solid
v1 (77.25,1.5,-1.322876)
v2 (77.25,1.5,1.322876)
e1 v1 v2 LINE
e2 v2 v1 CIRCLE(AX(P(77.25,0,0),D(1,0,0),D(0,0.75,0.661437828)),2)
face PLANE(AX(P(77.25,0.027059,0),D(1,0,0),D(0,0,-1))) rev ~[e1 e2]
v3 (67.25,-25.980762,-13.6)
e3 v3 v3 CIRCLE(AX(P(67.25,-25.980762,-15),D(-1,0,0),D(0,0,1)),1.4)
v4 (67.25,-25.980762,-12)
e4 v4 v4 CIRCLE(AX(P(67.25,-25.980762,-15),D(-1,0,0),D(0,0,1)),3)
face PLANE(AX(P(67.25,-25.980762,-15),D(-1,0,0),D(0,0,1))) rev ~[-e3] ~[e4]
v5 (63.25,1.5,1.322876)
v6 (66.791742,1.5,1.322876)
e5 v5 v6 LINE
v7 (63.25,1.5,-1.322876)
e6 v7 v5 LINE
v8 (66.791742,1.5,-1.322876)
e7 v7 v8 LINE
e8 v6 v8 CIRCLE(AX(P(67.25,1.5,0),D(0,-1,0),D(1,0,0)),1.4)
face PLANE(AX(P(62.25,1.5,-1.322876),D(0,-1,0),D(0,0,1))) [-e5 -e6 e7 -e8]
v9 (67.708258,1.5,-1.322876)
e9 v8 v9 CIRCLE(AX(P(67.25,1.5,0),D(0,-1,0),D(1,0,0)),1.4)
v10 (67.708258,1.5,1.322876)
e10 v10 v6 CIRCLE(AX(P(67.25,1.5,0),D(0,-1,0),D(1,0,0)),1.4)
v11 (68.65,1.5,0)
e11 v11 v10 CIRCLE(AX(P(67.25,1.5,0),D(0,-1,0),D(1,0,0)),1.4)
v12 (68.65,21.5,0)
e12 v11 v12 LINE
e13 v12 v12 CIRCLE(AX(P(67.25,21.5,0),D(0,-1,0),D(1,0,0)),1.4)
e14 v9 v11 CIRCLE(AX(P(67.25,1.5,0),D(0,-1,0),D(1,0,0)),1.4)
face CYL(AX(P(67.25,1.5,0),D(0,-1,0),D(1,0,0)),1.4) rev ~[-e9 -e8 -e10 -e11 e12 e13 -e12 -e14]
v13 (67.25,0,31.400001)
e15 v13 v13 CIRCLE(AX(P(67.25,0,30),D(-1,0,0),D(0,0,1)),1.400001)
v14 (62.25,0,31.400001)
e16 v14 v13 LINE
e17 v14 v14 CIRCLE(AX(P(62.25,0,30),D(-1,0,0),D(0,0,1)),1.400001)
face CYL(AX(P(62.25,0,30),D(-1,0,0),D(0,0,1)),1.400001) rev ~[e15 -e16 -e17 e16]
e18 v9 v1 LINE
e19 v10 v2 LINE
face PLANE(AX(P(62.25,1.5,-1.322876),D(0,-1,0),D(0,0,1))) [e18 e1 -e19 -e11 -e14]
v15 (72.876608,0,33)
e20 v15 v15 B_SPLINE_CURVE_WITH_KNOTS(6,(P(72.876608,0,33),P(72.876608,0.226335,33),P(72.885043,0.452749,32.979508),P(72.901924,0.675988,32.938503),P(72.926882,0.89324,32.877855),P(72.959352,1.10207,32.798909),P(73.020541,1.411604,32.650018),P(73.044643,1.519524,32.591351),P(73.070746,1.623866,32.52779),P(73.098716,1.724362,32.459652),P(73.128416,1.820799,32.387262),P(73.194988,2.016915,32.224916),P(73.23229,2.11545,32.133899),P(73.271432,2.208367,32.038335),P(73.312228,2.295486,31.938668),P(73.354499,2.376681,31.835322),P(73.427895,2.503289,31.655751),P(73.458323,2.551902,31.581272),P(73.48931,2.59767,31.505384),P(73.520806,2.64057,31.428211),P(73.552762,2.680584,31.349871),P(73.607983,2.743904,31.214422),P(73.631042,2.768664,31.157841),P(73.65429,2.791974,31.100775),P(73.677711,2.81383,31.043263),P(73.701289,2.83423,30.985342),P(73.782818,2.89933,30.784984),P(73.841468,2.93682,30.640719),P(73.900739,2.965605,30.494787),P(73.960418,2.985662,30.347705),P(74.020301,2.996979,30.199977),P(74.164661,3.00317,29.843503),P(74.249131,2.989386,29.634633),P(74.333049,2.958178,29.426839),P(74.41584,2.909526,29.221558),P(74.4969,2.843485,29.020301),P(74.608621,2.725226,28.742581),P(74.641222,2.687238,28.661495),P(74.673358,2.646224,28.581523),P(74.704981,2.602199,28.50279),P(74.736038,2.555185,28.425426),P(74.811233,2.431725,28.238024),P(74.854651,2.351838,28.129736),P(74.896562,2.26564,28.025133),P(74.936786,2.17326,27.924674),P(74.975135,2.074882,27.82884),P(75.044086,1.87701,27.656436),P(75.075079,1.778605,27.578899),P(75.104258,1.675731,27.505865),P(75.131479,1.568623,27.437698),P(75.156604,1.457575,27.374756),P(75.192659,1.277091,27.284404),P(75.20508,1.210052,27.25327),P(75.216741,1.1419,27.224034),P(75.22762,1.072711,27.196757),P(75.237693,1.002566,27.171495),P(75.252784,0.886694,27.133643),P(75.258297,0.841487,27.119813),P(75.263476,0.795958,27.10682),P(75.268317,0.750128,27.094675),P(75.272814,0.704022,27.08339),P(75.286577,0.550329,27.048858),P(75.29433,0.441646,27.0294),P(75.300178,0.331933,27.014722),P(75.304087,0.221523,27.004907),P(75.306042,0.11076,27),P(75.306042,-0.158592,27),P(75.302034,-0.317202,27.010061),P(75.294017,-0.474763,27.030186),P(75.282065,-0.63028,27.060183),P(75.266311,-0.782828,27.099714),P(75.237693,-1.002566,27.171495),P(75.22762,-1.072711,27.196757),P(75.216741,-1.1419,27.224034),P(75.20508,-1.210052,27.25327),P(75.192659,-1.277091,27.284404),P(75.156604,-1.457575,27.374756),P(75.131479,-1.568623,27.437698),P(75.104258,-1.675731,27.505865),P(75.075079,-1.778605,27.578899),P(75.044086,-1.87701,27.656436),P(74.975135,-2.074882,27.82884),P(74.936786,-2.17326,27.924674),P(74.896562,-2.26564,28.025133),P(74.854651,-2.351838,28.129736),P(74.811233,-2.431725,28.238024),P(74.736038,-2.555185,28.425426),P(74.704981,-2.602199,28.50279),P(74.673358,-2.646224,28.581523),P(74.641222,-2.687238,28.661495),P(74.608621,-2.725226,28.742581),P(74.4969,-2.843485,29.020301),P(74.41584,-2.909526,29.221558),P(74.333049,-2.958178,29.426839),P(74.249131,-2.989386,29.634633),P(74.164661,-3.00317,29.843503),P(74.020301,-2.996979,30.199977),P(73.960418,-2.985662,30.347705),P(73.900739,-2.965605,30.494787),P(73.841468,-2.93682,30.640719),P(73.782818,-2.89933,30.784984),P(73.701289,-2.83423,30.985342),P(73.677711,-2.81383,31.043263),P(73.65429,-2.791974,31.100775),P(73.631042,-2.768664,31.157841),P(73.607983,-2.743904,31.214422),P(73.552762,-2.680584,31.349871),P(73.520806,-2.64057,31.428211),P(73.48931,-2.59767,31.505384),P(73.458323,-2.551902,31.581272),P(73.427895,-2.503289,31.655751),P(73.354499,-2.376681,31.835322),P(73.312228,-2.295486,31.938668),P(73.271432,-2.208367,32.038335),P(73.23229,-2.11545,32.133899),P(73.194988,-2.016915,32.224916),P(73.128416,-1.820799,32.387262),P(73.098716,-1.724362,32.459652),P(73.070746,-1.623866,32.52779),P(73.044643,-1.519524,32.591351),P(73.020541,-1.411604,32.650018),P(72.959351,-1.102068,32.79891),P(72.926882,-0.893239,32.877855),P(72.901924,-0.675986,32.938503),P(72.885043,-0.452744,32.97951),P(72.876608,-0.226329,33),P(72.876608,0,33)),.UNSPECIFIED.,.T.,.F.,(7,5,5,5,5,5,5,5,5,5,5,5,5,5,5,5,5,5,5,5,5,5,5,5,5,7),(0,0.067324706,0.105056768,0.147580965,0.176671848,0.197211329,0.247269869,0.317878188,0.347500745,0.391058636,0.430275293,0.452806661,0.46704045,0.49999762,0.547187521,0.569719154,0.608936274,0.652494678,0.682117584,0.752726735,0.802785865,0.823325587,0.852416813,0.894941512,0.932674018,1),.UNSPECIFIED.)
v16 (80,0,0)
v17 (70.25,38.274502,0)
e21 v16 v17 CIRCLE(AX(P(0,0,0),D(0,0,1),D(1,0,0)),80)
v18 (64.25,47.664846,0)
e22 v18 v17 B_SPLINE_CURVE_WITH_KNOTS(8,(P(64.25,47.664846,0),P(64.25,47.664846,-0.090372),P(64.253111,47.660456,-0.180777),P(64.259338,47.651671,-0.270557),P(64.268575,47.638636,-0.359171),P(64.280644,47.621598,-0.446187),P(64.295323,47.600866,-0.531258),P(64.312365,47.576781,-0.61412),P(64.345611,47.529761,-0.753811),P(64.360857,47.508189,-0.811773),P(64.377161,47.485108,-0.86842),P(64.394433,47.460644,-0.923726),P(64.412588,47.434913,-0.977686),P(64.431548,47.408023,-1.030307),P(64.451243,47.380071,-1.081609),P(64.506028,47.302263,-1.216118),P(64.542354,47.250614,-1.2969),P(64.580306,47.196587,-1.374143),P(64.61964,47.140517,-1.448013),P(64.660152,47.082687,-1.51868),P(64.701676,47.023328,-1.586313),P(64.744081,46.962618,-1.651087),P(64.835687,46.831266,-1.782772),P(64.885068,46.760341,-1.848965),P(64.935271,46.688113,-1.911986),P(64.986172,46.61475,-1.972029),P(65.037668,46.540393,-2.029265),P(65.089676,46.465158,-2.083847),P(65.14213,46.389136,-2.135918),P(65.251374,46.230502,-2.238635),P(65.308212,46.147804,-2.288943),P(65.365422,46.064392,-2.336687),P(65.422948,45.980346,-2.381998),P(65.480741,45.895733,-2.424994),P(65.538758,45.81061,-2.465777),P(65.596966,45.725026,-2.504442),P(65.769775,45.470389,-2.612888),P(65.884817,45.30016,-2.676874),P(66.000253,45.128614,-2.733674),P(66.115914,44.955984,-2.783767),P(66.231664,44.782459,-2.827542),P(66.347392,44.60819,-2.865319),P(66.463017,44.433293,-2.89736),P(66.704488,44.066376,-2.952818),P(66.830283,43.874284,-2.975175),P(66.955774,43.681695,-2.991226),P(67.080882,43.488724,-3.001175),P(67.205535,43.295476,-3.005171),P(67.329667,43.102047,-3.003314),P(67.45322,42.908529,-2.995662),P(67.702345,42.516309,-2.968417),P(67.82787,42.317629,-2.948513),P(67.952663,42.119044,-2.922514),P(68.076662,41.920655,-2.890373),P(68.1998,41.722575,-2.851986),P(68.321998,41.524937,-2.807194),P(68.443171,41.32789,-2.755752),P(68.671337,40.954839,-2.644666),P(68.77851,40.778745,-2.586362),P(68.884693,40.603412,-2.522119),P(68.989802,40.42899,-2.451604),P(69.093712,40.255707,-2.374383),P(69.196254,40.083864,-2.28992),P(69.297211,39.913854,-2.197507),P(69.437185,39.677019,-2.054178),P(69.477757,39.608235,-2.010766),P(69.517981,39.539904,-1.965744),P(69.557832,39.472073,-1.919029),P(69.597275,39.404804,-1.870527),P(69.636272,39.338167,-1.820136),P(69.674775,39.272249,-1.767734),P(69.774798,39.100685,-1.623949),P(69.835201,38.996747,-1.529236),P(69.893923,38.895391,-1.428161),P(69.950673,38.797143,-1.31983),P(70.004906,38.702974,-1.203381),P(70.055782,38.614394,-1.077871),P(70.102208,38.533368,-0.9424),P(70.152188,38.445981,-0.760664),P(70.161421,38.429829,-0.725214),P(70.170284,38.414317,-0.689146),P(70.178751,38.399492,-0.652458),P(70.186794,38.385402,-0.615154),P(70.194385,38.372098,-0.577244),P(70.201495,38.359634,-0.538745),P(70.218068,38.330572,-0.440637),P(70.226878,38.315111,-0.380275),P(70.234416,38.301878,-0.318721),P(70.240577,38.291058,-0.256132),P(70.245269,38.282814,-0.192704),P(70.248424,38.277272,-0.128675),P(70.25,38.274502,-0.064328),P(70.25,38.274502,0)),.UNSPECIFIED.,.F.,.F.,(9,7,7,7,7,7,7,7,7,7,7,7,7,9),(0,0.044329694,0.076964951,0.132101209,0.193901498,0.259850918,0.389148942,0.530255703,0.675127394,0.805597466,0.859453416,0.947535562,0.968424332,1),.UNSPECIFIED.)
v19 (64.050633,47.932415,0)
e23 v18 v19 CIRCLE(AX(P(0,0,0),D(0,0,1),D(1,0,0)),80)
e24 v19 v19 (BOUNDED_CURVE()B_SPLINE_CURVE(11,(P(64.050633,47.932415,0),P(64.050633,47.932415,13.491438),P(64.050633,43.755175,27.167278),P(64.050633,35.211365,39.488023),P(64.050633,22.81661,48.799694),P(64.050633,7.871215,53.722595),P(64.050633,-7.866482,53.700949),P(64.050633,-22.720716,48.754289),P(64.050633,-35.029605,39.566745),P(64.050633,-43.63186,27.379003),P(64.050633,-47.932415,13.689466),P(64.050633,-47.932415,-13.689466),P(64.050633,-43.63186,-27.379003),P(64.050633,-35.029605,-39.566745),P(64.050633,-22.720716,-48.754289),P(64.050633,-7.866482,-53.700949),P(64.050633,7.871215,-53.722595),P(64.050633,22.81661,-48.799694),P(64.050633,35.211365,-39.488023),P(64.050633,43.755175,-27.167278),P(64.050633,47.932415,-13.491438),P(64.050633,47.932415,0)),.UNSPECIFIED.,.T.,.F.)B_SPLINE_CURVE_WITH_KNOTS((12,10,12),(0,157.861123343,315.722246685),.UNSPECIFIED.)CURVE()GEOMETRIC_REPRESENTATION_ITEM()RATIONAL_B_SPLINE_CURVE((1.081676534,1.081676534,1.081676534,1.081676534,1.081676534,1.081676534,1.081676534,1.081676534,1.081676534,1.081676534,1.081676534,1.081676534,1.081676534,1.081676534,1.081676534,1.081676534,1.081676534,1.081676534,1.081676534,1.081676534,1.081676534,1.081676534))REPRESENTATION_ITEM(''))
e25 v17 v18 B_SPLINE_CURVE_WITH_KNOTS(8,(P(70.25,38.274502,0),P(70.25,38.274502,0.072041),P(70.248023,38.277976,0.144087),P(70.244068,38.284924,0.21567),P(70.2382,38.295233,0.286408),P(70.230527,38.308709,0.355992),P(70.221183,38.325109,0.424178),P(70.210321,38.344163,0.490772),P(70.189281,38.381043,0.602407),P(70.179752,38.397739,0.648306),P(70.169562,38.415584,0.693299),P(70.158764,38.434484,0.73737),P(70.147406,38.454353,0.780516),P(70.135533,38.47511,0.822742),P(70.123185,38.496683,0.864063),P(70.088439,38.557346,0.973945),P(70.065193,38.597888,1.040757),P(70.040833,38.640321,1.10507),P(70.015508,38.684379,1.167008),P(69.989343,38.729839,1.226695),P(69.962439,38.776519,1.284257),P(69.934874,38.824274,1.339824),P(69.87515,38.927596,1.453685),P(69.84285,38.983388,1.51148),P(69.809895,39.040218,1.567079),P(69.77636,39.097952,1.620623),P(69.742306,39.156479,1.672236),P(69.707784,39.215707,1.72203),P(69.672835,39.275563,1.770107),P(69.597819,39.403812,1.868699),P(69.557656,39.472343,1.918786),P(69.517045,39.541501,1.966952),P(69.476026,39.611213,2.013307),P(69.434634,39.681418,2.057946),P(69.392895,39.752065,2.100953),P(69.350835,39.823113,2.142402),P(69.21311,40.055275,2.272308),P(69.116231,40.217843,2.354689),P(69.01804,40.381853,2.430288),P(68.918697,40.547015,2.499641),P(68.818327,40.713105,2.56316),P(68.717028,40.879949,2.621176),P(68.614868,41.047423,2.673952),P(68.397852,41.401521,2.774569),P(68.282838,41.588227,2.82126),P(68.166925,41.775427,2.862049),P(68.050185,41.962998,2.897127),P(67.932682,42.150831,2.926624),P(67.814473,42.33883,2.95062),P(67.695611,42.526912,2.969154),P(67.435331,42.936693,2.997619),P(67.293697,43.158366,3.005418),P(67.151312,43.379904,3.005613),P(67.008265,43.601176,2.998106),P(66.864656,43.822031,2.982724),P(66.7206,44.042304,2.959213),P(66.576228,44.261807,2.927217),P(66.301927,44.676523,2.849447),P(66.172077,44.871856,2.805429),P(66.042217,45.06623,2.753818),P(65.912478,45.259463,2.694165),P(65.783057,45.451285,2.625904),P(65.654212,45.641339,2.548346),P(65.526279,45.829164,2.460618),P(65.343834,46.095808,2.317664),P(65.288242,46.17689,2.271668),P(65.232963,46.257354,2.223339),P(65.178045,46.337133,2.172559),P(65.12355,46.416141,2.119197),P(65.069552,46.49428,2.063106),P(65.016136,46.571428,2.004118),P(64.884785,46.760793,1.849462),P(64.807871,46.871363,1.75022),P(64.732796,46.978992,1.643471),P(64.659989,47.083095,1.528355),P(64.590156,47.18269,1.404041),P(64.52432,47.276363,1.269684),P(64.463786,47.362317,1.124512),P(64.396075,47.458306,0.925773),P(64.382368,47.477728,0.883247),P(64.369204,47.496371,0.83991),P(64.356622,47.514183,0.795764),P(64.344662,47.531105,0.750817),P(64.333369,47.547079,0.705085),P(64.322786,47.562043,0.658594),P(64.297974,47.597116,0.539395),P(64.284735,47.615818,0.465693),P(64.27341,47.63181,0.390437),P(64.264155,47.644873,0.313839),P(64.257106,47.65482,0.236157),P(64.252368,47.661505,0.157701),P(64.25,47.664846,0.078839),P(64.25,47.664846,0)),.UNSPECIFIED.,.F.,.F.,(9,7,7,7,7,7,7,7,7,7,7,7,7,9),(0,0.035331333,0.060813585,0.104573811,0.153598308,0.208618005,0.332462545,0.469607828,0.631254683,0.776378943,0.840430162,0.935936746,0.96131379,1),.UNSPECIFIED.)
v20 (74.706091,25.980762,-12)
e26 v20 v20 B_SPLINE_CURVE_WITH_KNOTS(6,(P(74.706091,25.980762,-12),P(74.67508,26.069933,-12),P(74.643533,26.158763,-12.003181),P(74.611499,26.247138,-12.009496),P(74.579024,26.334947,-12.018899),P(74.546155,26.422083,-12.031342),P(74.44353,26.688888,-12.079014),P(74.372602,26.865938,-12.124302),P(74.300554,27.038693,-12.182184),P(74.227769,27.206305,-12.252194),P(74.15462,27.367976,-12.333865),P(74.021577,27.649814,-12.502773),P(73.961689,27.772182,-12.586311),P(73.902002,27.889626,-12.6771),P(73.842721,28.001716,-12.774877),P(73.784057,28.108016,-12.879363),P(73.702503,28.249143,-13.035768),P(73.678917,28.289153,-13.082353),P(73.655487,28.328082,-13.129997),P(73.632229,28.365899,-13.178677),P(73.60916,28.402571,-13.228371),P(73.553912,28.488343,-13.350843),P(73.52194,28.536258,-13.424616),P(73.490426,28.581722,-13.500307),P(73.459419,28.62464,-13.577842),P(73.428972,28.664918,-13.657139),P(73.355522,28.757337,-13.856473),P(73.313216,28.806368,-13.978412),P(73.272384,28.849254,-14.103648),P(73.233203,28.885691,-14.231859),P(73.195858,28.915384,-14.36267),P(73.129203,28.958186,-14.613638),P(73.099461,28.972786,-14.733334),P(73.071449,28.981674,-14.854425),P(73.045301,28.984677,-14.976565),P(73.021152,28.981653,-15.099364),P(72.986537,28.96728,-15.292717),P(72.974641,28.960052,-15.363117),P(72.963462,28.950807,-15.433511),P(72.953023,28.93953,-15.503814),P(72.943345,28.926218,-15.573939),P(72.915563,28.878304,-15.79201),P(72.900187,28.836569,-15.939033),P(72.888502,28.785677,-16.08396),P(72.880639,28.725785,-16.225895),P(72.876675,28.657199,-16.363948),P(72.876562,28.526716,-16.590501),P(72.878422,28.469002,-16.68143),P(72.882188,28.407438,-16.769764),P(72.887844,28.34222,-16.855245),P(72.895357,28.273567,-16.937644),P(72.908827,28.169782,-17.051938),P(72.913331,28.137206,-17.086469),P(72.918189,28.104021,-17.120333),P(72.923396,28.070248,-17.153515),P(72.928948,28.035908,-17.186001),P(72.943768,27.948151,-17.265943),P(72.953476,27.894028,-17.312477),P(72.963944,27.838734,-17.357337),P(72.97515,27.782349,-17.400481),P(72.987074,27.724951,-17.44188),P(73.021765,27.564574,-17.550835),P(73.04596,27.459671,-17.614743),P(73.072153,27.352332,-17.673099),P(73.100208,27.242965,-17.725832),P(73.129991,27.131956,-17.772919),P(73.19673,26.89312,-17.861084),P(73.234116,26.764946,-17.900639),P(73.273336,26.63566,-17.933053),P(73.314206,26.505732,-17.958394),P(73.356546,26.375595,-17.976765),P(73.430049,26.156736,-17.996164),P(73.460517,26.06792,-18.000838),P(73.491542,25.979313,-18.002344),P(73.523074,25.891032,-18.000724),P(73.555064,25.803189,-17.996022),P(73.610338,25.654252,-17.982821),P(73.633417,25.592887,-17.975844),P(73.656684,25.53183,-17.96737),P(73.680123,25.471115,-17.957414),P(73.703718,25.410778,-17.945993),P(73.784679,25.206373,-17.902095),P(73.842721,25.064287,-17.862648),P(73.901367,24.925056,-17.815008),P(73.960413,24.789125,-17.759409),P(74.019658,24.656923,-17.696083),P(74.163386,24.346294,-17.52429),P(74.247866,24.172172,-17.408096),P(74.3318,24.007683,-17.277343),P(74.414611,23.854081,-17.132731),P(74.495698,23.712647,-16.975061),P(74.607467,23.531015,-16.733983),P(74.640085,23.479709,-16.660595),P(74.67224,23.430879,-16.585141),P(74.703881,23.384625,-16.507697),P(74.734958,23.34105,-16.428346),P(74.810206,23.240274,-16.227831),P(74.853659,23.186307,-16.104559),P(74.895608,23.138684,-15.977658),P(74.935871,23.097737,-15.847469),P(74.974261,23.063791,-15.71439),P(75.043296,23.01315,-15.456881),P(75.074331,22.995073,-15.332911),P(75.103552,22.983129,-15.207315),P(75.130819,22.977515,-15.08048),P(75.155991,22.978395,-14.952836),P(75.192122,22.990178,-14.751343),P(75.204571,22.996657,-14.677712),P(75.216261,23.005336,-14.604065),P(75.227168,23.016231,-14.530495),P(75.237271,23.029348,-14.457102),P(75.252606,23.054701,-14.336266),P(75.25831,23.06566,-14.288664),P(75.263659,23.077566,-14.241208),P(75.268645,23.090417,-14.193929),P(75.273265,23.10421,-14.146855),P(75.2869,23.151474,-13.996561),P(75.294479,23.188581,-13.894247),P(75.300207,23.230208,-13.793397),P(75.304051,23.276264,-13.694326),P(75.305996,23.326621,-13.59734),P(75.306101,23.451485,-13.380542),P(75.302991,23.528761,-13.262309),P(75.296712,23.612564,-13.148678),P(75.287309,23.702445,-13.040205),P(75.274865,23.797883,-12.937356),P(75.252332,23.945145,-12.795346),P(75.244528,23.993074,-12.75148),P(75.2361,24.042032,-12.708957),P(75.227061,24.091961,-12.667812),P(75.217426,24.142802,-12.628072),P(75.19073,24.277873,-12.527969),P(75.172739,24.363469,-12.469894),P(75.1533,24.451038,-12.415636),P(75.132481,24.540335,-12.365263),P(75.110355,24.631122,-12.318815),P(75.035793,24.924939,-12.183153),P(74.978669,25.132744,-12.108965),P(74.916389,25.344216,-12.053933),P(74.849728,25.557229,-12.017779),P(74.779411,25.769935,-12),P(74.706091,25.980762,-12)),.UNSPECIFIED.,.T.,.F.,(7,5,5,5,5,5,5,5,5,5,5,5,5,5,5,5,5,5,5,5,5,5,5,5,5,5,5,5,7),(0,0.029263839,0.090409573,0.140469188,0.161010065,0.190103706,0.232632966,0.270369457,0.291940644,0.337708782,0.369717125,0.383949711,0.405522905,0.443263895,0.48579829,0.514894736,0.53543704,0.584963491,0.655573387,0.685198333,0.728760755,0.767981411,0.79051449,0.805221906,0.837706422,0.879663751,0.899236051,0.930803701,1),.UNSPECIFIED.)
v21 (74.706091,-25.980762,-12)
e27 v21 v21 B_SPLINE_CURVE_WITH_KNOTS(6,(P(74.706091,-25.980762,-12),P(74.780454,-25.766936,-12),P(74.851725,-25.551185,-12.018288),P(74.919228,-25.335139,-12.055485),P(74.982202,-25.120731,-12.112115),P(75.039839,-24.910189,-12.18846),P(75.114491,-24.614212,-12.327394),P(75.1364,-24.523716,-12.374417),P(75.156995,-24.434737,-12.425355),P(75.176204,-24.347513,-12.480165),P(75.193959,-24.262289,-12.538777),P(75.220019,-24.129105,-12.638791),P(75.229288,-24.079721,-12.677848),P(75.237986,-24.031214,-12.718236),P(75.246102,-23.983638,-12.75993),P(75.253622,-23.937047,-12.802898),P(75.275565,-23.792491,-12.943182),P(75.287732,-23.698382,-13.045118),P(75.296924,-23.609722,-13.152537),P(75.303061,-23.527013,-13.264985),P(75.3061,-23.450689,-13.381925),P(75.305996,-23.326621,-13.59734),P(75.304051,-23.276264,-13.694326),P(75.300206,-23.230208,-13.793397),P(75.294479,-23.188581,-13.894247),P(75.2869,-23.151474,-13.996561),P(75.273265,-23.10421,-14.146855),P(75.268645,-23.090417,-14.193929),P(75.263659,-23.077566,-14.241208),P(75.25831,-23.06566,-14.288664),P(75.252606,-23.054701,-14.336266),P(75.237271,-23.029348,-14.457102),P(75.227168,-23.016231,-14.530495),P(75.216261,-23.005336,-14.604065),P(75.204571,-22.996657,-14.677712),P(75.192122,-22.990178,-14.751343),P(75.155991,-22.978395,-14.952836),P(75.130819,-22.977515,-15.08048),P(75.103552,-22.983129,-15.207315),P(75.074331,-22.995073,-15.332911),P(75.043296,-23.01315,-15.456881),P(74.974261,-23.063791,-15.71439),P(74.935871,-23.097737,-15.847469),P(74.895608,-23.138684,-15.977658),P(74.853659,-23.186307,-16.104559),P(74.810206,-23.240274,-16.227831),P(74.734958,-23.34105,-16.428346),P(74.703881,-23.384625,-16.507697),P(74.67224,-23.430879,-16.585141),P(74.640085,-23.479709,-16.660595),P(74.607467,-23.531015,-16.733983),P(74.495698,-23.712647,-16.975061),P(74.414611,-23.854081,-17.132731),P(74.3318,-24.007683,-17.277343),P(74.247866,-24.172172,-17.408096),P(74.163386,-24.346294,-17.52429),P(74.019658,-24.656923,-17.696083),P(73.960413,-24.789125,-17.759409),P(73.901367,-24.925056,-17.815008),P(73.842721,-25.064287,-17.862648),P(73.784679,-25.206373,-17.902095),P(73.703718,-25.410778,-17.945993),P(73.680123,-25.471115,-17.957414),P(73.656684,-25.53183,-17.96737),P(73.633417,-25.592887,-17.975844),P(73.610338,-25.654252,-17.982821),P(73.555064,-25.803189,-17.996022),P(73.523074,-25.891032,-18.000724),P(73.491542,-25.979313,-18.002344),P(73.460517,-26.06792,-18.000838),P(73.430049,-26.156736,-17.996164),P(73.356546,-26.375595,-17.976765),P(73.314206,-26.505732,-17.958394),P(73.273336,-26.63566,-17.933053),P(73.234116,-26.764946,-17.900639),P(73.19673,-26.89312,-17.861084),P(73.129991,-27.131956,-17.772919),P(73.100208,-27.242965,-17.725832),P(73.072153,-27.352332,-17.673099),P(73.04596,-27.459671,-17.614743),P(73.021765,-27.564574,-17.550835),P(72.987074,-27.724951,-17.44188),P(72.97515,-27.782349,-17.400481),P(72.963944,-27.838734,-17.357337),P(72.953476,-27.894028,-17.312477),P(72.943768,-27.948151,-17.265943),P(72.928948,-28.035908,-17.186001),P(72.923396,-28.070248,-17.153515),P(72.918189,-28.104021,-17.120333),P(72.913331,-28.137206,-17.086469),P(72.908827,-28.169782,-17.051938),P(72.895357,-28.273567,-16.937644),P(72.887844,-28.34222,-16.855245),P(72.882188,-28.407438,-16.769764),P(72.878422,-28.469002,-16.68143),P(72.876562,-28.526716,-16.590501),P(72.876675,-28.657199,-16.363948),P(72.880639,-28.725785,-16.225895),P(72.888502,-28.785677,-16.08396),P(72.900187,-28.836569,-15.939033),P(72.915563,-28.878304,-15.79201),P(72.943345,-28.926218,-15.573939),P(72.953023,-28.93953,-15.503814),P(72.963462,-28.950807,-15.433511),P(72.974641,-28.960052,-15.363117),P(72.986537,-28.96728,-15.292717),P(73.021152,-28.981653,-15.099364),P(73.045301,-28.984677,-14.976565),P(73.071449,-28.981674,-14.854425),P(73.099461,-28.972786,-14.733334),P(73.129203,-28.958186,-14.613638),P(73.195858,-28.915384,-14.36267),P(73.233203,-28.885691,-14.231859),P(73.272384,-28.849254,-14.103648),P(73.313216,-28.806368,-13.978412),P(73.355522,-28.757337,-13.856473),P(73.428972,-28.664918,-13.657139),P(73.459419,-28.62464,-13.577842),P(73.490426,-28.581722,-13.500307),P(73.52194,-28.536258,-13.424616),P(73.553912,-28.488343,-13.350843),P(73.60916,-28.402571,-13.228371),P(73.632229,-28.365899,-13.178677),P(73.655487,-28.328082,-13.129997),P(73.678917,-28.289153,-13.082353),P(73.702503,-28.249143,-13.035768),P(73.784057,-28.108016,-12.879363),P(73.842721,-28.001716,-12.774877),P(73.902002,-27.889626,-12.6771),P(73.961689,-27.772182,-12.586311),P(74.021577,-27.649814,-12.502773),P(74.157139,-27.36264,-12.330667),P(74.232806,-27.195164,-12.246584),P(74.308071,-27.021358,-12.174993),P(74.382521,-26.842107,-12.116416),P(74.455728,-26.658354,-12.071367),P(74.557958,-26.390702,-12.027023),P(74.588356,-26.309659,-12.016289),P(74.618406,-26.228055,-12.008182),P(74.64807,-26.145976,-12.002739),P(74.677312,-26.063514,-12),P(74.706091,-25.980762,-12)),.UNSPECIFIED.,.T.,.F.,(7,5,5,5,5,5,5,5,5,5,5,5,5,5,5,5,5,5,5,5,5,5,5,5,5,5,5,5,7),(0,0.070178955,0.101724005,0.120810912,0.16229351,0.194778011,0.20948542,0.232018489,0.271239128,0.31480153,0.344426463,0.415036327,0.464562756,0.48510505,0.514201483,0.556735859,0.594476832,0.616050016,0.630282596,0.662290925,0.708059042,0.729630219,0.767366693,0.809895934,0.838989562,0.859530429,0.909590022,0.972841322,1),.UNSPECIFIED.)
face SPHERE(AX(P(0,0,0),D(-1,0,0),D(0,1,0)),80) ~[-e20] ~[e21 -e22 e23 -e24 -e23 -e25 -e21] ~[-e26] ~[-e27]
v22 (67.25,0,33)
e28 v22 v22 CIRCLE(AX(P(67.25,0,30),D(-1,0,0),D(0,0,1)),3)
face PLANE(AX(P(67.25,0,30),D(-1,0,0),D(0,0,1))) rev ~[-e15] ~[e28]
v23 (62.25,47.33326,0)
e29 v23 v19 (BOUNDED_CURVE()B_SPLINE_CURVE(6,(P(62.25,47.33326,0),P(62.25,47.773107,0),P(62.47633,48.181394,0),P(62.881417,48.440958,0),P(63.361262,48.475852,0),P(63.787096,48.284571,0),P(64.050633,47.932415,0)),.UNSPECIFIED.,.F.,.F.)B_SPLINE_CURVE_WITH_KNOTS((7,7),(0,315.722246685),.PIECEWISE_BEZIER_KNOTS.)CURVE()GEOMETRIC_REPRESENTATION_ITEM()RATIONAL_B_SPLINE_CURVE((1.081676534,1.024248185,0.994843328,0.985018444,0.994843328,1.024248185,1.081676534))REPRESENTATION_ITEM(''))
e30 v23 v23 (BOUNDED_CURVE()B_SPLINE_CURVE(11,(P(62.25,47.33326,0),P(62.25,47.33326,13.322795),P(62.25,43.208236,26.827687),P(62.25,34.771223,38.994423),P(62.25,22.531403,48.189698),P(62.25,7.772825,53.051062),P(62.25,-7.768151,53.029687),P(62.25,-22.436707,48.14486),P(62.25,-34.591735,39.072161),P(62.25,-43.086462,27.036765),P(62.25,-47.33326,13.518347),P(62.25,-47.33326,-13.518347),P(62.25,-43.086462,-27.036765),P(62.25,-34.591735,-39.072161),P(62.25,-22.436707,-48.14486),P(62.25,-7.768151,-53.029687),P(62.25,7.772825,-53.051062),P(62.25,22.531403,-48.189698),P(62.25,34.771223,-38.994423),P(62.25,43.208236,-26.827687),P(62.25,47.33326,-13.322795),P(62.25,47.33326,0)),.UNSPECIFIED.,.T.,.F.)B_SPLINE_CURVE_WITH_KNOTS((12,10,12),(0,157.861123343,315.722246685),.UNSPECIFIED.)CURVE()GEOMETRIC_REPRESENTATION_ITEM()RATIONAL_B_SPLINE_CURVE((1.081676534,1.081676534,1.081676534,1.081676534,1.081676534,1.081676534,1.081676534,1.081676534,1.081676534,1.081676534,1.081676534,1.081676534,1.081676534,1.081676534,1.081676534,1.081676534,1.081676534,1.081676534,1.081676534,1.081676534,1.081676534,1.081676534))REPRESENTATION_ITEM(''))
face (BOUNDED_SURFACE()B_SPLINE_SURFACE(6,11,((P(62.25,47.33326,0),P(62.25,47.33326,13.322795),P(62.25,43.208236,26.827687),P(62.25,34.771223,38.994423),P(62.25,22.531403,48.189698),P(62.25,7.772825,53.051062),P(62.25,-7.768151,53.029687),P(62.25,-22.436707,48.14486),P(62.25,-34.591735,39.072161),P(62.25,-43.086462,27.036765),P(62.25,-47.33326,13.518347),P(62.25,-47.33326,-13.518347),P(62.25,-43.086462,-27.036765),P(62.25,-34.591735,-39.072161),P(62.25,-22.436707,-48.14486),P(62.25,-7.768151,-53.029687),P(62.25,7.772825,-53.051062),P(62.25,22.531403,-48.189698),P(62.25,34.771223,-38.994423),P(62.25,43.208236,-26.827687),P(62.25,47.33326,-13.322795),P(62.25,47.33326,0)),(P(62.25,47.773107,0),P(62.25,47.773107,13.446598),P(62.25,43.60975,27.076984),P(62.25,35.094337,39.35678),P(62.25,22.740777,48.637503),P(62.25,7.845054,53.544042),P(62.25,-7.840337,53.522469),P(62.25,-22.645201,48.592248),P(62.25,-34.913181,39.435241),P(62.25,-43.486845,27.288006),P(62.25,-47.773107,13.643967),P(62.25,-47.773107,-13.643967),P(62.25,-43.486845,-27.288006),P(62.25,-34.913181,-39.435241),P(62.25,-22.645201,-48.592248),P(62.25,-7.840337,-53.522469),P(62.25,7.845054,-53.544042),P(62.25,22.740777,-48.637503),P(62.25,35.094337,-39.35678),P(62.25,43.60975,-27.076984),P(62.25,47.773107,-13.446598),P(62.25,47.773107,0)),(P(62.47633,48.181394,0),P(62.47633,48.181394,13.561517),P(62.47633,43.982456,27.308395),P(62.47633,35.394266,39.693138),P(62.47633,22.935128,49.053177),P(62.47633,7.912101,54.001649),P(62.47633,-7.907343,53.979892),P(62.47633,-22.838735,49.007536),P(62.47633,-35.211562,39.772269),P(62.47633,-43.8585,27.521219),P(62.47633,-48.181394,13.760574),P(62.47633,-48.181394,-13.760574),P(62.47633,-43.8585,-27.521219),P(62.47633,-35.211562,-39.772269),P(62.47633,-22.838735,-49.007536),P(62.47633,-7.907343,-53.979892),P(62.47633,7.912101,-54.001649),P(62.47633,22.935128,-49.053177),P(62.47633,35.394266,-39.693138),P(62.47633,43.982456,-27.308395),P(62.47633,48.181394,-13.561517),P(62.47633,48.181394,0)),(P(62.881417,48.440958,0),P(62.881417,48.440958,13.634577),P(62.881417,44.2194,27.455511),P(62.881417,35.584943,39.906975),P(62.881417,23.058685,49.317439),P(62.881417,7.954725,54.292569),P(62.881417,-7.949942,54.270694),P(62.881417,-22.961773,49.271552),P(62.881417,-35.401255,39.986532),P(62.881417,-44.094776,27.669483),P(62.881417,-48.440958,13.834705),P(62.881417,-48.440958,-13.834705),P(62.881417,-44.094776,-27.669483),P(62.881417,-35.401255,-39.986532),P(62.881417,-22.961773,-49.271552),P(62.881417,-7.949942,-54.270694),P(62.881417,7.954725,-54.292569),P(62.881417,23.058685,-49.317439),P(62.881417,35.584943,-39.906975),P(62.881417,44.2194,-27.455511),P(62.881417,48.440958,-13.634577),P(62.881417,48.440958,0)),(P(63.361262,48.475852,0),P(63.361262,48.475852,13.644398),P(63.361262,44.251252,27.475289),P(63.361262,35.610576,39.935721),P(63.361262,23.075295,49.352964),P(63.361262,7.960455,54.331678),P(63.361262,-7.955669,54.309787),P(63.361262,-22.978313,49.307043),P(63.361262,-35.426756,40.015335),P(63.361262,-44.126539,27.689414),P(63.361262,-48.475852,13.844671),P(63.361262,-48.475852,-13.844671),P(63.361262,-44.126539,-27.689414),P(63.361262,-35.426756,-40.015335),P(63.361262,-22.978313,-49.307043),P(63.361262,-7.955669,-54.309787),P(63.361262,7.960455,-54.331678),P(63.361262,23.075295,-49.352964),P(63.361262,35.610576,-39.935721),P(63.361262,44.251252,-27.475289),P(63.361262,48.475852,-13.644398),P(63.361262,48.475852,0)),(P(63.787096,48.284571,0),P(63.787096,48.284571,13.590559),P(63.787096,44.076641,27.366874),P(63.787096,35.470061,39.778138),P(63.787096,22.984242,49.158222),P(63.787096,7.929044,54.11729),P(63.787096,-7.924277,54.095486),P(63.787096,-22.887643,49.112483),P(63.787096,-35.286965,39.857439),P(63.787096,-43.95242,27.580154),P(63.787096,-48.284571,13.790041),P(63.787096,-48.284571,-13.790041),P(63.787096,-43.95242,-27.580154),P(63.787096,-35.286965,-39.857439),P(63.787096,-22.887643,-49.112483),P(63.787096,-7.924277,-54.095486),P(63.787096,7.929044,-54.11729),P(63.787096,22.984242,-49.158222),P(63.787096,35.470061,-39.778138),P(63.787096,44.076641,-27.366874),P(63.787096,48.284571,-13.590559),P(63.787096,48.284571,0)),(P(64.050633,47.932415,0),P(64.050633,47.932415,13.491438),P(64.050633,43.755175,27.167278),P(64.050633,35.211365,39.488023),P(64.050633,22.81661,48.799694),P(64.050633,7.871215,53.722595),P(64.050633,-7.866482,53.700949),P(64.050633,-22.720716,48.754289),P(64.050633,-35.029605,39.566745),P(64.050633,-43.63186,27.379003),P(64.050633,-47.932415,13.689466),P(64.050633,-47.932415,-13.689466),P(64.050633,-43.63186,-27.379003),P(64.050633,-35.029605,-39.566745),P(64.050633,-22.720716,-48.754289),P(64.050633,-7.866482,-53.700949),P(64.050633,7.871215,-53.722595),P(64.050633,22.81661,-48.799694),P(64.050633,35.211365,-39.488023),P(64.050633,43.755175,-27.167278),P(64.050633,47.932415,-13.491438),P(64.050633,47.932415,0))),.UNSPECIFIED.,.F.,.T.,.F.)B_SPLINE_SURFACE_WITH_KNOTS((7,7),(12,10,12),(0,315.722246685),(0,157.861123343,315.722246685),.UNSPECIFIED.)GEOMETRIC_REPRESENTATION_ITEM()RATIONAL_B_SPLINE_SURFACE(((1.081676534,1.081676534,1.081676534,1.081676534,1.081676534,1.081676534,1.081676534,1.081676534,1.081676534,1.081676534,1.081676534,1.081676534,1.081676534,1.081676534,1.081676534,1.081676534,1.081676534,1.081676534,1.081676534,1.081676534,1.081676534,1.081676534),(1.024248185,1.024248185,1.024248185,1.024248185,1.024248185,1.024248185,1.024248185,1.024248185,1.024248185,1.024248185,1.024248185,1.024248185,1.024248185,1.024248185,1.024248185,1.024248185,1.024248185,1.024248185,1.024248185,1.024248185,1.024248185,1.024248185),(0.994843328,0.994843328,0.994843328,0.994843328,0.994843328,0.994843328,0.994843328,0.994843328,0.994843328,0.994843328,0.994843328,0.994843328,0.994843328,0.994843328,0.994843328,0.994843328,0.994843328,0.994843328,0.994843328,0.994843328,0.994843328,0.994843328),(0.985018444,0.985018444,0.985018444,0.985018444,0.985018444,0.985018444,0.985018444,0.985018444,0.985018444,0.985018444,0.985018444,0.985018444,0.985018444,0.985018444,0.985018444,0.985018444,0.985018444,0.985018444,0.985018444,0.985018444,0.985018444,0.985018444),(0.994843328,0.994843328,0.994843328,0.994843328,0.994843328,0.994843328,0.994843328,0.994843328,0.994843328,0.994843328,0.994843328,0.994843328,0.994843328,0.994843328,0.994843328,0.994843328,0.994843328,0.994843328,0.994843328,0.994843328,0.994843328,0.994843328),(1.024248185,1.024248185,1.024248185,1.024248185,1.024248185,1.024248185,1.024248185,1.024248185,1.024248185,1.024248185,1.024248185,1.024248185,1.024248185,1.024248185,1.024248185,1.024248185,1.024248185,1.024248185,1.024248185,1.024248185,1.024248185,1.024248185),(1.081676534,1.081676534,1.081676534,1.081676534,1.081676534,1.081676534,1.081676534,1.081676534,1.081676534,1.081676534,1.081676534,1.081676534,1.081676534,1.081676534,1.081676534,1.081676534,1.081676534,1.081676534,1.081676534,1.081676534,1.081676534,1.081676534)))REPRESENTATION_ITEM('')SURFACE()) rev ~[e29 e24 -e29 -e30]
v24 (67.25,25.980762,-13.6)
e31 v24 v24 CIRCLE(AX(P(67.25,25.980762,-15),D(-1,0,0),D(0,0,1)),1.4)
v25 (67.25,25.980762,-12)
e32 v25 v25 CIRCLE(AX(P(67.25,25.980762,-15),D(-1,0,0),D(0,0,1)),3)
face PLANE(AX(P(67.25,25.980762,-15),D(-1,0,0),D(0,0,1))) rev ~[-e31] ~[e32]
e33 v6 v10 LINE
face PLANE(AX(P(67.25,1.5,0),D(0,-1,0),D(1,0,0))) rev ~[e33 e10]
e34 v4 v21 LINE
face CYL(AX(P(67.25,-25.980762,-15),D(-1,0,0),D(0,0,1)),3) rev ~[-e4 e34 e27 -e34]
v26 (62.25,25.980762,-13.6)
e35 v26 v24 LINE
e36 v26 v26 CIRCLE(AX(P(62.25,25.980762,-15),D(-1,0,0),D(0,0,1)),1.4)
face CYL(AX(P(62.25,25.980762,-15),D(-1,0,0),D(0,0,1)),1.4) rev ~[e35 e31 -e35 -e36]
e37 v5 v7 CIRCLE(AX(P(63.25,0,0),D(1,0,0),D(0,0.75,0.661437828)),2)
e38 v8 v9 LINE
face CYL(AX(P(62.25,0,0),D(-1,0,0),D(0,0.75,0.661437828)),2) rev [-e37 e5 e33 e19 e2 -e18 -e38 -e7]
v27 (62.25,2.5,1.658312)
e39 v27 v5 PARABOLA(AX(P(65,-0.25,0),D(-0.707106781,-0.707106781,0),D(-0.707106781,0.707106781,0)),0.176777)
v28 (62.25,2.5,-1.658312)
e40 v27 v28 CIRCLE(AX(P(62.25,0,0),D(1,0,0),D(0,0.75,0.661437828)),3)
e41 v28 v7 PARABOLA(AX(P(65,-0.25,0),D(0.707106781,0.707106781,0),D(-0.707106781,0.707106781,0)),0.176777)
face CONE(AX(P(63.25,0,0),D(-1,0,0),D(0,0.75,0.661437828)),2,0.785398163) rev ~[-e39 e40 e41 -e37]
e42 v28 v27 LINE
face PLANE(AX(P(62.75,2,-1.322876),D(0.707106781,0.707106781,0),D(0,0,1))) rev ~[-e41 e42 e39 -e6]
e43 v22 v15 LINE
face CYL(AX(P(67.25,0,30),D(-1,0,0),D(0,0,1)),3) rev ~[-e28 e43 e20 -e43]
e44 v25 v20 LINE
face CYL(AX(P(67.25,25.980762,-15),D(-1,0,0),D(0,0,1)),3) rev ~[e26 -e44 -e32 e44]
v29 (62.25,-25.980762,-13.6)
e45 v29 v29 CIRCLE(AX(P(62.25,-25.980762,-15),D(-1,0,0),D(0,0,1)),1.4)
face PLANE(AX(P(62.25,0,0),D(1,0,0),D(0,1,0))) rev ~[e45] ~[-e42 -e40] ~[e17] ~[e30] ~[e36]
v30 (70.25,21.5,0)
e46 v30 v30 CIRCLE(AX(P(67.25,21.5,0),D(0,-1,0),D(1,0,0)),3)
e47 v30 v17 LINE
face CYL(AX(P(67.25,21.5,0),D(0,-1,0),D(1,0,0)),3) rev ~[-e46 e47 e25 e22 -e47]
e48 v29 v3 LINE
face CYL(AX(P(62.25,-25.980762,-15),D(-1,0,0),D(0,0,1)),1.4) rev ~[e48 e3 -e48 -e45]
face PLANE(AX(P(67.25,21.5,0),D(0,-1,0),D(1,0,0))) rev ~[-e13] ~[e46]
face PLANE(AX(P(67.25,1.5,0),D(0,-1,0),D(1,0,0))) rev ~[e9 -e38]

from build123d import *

# Parameters (mm, degrees)
CUT_EXTRUDE1_DEPTH      = 15
SKETCH3_R               = 1.4
CUT_EXTRUDE2_DEPTH      = 49.748756204
CUT_EXTRUDE3_START      = -20
SKETCH4_R               = 3
CUT_EXTRUDE3_DEPTH      = 29.748756266
FILLET1_R               = 1
CHAMFER1_SIZE           = 1
SKETCH5_R               = 1.4
SKETCH5_R_2             = 1.400000586
CUT_EXTRUDE4_DEPTH      = 1.0000001
CUT_EXTRUDE4_DEPTH_BACK = 18.75
CUT_EXTRUDE5_START      = -5
SKETCH6_R               = 3
CUT_EXTRUDE5_DEPTH      = 10


with BuildPart() as part:
    # Sketch1 → Revolve1 (revolve)
    with BuildSketch(Plane.XY):
        with BuildLine():
            Line((62.25, 50.248756204), (62.25, 0))
            Line((62.25, 0), (80, 0))
            ThreePointArc((80, 0), (75.432088663, 26.645825189), (62.25, 50.248756204))
        make_face()
    revolve(axis=Axis((62.25, 0, 0), (1, 0, 0)))

    # Sketch2 → Cut-Extrude1 (cut)
    with BuildSketch(Plane.ZY.offset(-62.25)):
        with BuildLine():
            Line((-1.322875656, 1.5), (1.322875656, 1.5))
            ThreePointArc((1.322875656, 1.5), (0, -2), (-1.322875656, 1.5))
        make_face()
    extrude(amount=-CUT_EXTRUDE1_DEPTH, mode=Mode.SUBTRACT)

    # Sketch3 → Cut-Extrude2 (cut, through all)
    with BuildSketch(Plane.XZ.offset(-1.5)):
        with Locations((67.25, 0)):
            Circle(SKETCH3_R)
    extrude(amount=-CUT_EXTRUDE2_DEPTH, mode=Mode.SUBTRACT)

    # Sketch4 → Cut-Extrude3 (cut, through all)
    with BuildSketch(Plane.XZ.offset(-1.5).offset(CUT_EXTRUDE3_START)):
        with Locations((67.25, 0)):
            Circle(SKETCH4_R)
    extrude(amount=-CUT_EXTRUDE3_DEPTH, mode=Mode.SUBTRACT)

    # Fillet1
    fillet1_edges = [part.edges().sort_by_distance(p)[0] for p in [
        (62.25, -50.248756204, 0),
    ]]
    fillet(fillet1_edges, radius=FILLET1_R)

    # Chamfer1
    chamfer1_edges = [part.edges().sort_by_distance(p)[0] for p in [
        (62.25, -2, 0),
        (62.25, 1.5, 0),
    ]]
    chamfer(chamfer1_edges, length=CHAMFER1_SIZE)

    # Sketch5 → Cut-Extrude4 (cut, two sides)
    with BuildSketch(Plane.ZY.offset(-62.25)) as cut_extrude4_sk:
        with Locations((-15, -25.980762114)):
            Circle(SKETCH5_R)
        with Locations((30, 0)):
            Circle(SKETCH5_R_2)
        with Locations((-15, 25.980762114)):
            Circle(SKETCH5_R)
    extrude(amount=CUT_EXTRUDE4_DEPTH, mode=Mode.SUBTRACT)
    extrude(cut_extrude4_sk.sketch, amount=-CUT_EXTRUDE4_DEPTH_BACK, mode=Mode.SUBTRACT)

    # Sketch6 → Cut-Extrude5 (cut)
    with BuildSketch(Plane.ZY.offset(-62.25).offset(CUT_EXTRUDE5_START)):
        with Locations((-15, 25.980762114)):
            Circle(SKETCH6_R)
        with Locations((30, 0)):
            Circle(SKETCH6_R)
        with Locations((-15, -25.980762114)):
            Circle(SKETCH6_R)
    extrude(amount=-CUT_EXTRUDE5_DEPTH, mode=Mode.SUBTRACT)


solid = part.part
